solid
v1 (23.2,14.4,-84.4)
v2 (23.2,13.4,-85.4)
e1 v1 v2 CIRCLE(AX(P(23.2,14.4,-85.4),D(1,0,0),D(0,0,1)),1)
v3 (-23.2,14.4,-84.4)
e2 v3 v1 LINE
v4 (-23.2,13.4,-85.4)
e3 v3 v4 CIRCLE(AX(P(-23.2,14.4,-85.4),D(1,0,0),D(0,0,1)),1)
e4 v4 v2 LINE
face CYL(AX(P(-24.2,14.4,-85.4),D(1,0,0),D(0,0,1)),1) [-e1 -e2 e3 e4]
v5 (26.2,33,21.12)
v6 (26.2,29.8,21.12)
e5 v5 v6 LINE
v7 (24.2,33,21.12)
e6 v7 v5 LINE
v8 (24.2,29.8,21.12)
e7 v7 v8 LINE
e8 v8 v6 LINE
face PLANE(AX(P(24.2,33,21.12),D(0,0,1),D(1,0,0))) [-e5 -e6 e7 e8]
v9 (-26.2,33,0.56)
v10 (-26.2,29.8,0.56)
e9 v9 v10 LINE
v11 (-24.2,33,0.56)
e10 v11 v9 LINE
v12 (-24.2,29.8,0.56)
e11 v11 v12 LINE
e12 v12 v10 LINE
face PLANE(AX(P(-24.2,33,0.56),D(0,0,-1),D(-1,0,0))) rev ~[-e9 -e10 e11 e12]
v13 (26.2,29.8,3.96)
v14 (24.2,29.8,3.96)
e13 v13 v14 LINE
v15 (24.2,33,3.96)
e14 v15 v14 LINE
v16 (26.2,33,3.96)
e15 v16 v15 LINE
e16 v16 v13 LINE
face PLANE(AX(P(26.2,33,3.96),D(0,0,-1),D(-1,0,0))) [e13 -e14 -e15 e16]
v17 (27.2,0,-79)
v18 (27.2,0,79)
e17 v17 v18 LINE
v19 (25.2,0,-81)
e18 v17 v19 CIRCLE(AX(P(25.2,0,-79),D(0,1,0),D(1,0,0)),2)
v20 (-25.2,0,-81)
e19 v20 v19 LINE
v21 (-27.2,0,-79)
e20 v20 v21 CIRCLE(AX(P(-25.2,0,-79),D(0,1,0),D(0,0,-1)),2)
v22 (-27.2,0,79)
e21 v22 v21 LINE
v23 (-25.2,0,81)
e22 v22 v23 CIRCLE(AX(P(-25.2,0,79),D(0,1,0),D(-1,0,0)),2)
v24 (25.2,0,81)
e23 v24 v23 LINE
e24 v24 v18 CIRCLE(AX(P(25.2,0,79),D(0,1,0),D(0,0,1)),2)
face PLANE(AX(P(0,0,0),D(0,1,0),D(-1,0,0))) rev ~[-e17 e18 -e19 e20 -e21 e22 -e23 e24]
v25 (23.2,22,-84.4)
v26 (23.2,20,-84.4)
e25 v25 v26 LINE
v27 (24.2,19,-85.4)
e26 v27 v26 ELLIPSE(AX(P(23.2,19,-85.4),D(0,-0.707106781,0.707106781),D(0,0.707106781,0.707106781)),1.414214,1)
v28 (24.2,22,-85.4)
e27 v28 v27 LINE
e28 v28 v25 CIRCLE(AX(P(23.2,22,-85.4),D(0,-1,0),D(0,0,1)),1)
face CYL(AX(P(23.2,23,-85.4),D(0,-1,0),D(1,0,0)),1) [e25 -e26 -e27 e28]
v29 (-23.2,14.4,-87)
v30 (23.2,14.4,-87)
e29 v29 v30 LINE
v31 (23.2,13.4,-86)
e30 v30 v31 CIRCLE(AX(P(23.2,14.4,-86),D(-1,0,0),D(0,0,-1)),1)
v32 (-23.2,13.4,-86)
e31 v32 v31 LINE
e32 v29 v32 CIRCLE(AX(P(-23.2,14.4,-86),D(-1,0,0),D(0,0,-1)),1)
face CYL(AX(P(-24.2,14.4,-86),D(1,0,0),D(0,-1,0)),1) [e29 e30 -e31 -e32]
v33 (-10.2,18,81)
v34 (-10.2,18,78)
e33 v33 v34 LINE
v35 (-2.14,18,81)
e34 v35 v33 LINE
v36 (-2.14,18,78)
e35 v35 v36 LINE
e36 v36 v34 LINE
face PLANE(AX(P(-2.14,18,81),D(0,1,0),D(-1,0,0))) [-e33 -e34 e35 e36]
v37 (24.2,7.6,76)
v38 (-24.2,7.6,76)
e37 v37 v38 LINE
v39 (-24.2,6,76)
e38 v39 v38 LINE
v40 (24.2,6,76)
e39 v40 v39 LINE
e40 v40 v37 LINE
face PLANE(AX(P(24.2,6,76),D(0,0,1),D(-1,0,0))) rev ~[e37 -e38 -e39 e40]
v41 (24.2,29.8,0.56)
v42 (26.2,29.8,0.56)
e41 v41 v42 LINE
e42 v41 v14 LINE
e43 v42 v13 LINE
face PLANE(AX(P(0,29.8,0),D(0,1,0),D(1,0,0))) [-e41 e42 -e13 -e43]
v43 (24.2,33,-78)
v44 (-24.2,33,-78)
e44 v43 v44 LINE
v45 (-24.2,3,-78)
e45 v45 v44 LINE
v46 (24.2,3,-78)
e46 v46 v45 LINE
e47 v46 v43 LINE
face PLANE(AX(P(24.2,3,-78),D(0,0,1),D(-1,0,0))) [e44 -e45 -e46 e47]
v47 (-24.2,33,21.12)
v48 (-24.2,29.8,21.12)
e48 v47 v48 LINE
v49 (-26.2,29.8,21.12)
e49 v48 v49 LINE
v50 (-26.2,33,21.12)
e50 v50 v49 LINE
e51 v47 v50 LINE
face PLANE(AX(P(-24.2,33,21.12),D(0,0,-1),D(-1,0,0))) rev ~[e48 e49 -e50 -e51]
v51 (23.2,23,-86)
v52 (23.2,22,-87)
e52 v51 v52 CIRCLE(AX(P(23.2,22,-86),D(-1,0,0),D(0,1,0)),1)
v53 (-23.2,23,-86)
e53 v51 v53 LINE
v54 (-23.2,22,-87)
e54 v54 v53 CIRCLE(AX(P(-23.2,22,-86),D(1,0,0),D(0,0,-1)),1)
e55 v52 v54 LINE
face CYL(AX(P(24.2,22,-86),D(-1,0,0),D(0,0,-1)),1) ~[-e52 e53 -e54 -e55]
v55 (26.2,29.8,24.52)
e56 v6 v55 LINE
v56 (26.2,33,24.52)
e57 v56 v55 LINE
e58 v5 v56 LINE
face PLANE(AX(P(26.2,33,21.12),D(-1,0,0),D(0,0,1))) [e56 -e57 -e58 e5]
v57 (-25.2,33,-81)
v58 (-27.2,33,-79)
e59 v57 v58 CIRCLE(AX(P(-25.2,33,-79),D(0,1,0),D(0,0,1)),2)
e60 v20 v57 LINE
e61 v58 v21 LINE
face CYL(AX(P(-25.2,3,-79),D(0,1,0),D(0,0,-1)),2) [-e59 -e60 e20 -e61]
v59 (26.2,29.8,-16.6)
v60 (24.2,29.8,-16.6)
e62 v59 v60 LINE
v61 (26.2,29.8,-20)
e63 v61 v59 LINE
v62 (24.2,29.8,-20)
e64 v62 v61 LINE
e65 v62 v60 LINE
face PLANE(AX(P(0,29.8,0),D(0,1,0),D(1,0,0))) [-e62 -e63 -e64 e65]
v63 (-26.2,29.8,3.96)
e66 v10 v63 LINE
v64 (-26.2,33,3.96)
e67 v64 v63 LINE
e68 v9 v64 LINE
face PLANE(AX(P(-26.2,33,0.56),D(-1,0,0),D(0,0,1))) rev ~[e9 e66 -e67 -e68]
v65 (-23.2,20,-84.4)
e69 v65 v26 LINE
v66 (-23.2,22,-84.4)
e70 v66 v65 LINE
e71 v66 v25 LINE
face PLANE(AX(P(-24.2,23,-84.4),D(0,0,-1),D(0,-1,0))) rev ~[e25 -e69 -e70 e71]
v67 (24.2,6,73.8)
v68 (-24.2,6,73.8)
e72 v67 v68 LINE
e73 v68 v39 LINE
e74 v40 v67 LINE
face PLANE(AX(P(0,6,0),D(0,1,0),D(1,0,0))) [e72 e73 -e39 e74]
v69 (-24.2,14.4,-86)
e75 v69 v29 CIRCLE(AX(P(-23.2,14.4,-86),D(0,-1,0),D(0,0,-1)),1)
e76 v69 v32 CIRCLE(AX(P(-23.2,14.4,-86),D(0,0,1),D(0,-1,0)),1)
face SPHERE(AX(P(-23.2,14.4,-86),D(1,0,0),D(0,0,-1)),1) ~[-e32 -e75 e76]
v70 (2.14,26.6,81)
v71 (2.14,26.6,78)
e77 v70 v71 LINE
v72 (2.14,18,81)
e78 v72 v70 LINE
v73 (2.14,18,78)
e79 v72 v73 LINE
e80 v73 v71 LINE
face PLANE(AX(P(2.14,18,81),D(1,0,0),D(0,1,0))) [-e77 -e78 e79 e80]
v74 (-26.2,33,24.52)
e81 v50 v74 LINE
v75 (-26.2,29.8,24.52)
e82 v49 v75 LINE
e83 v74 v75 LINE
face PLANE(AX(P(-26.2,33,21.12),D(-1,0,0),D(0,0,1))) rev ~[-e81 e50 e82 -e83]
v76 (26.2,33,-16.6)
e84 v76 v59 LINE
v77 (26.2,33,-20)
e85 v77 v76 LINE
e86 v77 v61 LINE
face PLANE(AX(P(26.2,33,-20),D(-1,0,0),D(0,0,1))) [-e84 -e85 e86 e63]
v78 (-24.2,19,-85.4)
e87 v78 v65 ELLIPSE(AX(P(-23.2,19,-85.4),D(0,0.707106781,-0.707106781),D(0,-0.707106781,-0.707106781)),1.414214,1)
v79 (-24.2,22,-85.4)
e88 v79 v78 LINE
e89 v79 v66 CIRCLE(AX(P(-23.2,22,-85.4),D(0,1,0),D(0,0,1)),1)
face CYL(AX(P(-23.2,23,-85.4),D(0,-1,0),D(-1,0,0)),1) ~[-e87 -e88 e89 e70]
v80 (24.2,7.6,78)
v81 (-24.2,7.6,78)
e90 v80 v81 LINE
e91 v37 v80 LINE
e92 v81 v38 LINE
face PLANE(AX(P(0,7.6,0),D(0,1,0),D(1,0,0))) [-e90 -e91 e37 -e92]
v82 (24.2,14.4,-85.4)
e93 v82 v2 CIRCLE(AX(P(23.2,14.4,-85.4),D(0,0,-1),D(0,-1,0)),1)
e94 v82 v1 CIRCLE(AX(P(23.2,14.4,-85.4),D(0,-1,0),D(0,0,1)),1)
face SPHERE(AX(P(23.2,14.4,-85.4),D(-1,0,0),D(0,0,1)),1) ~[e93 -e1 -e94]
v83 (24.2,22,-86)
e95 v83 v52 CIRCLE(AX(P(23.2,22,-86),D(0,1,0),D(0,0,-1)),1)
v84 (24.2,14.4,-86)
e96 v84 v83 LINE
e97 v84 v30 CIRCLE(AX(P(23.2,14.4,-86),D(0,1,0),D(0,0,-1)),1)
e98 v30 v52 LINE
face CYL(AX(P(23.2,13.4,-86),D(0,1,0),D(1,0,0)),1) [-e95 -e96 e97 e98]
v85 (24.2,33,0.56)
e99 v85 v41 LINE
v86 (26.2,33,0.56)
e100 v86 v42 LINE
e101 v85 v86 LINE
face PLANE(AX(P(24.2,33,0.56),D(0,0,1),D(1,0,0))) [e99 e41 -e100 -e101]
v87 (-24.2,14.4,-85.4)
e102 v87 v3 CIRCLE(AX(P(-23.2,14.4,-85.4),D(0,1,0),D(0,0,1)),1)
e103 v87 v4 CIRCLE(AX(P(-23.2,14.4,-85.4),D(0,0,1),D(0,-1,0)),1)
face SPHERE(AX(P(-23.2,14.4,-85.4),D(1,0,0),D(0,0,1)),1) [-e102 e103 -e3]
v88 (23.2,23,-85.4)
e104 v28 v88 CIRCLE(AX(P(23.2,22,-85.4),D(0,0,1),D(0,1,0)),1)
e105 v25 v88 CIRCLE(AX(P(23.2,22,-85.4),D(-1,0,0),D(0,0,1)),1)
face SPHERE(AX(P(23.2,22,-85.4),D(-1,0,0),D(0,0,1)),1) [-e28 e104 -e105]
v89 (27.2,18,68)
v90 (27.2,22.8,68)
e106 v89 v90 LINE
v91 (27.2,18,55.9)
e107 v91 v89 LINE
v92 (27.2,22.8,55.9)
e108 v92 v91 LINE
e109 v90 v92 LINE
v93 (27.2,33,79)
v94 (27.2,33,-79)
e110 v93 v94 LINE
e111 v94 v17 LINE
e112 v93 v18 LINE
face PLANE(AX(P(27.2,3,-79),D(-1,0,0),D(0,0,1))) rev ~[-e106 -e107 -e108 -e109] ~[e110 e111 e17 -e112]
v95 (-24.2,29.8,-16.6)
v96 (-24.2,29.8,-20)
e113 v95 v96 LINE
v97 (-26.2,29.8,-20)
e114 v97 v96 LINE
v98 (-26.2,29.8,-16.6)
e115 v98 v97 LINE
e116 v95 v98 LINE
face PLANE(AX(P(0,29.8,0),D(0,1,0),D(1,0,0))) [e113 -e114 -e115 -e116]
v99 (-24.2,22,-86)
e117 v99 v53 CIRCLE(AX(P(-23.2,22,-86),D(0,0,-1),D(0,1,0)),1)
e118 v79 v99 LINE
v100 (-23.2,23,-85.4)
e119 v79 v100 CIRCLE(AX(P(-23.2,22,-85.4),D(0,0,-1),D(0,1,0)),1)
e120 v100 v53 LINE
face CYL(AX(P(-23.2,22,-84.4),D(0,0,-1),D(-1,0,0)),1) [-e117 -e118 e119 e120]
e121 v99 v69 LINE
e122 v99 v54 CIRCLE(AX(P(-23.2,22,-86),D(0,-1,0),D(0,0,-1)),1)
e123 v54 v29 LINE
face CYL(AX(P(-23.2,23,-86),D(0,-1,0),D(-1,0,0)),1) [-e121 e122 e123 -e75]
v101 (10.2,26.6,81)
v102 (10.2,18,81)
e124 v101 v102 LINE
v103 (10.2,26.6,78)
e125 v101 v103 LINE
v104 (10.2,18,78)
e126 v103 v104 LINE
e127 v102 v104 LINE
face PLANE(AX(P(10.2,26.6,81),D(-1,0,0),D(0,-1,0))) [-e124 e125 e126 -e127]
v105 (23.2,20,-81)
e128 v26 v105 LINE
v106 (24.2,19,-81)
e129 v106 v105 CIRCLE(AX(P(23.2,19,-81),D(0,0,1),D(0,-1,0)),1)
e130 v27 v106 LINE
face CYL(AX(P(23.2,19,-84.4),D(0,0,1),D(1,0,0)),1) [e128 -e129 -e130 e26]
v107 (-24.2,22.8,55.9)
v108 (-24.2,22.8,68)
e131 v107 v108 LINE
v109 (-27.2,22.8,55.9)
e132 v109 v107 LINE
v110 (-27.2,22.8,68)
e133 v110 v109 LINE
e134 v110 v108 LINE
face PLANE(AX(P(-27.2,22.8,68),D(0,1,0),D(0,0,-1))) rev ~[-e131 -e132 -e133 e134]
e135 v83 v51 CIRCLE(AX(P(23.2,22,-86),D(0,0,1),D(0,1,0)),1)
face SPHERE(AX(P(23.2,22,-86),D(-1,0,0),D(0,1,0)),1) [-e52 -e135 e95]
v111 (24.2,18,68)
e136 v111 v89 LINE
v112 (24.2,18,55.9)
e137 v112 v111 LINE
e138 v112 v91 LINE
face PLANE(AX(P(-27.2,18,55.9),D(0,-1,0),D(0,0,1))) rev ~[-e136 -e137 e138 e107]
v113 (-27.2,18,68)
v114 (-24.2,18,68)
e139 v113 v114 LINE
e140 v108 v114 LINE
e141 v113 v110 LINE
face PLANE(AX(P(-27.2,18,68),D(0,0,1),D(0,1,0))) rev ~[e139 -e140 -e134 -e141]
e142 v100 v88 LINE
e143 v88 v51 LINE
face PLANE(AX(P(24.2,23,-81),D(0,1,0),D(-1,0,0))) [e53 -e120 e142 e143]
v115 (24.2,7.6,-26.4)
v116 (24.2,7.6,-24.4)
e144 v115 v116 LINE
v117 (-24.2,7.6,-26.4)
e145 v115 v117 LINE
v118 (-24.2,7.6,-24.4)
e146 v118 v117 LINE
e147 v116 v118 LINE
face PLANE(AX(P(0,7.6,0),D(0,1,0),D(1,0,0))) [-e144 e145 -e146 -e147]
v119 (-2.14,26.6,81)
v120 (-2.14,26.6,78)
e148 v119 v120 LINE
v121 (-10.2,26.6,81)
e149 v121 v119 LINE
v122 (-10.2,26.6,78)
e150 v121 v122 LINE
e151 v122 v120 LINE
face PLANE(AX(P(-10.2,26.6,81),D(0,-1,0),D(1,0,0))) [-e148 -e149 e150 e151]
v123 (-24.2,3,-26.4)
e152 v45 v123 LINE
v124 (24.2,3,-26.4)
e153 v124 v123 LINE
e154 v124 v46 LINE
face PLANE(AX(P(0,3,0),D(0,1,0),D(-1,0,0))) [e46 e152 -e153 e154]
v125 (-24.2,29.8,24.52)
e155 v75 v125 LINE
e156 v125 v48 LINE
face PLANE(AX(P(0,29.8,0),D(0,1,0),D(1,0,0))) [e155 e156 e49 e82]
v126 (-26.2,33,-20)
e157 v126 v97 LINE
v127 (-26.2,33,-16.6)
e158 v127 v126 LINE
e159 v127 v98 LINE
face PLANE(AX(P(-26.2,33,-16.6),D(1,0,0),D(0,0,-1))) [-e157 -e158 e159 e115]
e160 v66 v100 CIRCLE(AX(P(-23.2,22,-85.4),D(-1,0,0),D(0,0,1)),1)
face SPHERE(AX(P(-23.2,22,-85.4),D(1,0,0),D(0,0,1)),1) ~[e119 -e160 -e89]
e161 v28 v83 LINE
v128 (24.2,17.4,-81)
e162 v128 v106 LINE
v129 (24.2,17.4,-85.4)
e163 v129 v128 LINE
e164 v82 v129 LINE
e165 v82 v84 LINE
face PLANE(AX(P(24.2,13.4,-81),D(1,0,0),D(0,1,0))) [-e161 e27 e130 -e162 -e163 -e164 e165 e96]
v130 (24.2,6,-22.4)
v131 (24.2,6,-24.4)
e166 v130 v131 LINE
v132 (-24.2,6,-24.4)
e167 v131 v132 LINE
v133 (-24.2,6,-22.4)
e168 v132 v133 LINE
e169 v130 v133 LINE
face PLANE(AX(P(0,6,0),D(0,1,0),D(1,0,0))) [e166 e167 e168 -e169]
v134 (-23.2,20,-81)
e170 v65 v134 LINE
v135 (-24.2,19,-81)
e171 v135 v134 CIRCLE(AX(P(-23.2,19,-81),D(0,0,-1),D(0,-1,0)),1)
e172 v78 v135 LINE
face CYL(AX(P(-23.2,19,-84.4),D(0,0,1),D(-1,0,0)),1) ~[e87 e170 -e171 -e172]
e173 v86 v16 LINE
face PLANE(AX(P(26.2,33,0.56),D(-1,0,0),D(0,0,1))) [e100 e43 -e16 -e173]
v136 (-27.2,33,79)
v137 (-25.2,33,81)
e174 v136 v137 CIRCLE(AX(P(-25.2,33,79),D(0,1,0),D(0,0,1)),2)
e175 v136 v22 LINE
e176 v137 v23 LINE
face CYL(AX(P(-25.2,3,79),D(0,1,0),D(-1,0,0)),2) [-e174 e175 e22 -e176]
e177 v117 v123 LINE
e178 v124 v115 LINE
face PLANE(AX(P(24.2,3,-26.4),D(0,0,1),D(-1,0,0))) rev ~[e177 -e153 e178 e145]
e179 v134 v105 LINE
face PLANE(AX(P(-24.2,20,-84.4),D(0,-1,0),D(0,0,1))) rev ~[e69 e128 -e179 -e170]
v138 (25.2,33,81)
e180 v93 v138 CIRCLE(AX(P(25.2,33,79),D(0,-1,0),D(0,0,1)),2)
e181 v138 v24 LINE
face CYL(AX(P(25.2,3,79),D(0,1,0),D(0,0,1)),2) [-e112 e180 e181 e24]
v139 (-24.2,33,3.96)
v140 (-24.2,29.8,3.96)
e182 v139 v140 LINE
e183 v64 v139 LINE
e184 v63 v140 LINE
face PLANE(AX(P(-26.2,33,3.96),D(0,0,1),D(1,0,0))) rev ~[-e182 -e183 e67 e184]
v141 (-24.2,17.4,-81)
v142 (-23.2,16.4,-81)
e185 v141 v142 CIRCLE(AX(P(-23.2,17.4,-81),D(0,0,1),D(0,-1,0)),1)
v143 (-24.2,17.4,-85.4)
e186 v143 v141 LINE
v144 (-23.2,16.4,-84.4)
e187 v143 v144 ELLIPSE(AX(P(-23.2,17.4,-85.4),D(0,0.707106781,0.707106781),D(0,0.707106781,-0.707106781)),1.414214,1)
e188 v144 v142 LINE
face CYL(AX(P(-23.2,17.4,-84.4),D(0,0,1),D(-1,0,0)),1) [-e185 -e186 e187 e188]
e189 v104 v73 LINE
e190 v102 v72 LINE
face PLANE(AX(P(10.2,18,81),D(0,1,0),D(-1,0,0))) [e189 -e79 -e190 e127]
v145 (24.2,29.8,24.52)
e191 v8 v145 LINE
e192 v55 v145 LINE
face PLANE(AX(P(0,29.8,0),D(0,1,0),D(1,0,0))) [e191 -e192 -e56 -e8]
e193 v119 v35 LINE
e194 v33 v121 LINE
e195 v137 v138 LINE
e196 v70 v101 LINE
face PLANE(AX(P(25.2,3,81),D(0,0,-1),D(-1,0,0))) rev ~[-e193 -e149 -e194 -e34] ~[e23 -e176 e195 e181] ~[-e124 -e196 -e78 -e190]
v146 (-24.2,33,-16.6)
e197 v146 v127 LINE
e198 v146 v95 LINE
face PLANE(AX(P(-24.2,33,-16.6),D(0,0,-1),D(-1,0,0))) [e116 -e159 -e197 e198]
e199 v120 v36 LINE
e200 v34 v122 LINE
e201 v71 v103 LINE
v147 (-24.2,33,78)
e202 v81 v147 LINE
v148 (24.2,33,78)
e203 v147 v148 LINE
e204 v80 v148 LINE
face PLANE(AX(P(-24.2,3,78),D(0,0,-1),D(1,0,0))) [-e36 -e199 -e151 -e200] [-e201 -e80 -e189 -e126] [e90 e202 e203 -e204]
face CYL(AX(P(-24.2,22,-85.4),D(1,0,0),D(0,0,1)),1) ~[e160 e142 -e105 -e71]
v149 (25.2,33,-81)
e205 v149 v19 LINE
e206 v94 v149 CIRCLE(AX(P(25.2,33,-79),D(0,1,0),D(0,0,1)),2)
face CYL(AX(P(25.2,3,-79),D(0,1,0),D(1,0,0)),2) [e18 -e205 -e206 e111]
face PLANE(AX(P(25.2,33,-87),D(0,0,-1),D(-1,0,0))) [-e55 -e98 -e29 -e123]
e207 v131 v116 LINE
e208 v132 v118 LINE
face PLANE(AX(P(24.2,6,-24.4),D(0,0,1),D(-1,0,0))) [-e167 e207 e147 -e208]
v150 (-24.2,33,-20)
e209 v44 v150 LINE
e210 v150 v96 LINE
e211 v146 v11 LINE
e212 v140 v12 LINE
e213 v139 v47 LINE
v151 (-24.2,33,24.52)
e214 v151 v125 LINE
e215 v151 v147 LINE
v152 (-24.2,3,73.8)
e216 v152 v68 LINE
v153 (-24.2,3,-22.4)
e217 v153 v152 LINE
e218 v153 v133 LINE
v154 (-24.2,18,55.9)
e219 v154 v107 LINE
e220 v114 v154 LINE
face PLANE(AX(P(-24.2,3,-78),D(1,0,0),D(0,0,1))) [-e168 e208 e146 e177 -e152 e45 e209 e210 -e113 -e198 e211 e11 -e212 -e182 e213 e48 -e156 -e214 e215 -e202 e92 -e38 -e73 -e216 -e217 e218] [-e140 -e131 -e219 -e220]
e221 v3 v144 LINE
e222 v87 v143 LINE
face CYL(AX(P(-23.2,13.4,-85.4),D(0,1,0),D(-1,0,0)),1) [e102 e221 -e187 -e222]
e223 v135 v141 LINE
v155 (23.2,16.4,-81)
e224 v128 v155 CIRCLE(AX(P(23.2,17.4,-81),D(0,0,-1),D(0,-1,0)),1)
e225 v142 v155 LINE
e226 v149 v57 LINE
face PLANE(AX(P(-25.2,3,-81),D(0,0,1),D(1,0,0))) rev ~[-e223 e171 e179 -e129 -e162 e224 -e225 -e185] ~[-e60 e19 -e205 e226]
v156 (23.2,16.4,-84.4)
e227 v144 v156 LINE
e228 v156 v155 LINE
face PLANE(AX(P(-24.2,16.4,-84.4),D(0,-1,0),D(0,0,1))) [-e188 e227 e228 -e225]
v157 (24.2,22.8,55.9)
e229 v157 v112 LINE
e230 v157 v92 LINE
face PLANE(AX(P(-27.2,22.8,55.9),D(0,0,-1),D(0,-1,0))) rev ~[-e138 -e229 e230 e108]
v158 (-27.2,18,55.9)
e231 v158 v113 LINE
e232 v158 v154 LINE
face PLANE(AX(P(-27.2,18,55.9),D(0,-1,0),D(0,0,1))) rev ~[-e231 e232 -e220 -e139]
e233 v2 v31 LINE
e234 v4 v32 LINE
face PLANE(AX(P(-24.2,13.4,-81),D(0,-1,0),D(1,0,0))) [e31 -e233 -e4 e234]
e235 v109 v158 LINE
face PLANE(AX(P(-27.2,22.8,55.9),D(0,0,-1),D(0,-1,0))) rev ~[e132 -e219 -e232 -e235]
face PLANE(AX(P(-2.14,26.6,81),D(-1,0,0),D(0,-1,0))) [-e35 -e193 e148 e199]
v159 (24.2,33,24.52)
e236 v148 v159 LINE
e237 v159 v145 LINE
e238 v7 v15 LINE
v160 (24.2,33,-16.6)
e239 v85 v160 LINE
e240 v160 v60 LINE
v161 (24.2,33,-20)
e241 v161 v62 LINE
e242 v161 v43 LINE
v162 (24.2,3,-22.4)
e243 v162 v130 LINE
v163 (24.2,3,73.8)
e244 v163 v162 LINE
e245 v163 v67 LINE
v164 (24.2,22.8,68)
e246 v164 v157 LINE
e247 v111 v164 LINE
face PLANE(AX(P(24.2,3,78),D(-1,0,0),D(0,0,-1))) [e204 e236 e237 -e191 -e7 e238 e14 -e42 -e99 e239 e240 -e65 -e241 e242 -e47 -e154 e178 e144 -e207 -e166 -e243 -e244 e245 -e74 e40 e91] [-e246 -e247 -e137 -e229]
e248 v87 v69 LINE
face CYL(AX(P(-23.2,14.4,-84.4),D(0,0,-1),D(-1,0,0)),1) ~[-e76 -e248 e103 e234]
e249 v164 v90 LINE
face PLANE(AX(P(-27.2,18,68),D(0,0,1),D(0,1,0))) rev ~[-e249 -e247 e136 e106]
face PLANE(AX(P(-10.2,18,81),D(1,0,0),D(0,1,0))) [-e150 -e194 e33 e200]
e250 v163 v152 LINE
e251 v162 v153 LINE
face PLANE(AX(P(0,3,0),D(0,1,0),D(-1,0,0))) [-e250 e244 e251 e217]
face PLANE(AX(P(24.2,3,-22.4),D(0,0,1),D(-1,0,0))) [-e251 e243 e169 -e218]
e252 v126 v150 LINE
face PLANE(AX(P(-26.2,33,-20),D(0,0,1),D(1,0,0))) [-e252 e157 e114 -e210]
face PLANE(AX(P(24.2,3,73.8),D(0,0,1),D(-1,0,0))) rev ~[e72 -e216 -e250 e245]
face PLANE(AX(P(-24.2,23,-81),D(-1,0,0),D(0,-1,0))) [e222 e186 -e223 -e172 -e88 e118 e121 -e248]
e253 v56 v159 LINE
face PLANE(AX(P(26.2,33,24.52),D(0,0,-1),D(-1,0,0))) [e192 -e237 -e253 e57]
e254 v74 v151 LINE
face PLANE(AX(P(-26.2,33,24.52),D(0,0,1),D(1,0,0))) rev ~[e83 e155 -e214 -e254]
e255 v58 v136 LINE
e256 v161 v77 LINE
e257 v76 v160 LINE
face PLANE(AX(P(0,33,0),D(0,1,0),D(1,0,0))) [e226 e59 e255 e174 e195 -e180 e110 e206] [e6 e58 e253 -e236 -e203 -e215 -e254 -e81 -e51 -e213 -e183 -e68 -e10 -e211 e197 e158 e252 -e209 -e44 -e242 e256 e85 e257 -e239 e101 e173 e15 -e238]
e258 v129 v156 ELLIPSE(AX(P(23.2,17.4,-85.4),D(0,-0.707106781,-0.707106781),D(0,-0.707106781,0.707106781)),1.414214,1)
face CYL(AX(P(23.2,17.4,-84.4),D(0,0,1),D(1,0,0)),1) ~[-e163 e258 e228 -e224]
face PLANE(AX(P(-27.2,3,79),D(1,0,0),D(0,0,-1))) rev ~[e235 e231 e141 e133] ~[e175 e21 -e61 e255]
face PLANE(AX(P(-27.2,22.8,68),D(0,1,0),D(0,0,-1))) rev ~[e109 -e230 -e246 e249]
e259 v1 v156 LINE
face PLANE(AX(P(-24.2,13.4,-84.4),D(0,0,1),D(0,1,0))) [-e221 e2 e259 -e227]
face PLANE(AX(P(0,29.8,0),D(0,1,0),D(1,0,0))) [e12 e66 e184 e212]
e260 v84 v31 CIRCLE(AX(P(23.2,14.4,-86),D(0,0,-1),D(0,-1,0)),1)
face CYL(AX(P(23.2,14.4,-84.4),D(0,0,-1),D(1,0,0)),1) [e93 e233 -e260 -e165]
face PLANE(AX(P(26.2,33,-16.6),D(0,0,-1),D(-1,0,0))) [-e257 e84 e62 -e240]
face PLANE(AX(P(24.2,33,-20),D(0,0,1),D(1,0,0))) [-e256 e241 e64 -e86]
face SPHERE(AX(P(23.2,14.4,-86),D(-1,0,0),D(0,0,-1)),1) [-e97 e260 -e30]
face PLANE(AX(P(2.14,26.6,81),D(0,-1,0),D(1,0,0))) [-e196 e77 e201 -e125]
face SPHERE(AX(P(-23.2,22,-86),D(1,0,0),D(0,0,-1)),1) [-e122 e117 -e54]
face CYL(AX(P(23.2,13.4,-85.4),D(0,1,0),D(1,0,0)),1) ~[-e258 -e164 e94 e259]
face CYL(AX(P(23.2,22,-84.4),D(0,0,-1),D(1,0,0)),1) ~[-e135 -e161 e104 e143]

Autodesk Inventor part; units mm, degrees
ref_plane "YZ Plane" through (0, 0, 0) normal (1, 0, 0) x (0, 1, 0)
ref_plane "XZ Plane" through (0, 0, 0) normal (0, 1, 0) x (-1, 0, 0)
ref_plane "XY Plane" through (0, 0, 0) normal (0, 0, 1) x (1, 0, 0)
sketch "Sketch2" plane through (0, 0, 0) normal (0, 1, 0) x (-1, 0, 0)
  line L0 (-30.2, -84) -> (30.2, -84)
  line L1 (30.2, -84) -> (30.2, 84)
  line L2 (30.2, 84) -> (-30.2, 84)
  line L3 (-30.2, 84) -> (-30.2, -84)
  line L4 (-30.2, -84) -> (30.2, 84) construction
  line L5 (30.2, -84) -> (-30.2, 84) construction
  point P0 (0, 0)
  dimension "d0" = 60.4
  dimension "d1" = 168
extrude "Extrusion1" add sketch "Sketch2" along normal blind 3
sketch "Sketch3" plane through (0, 3, 0) normal (0, 1, 0) x (1, 0, 0)
  line L0 (27.2, 81) -> (-27.2, 81)
  line L1 (-27.2, 81) -> (-27.2, -81)
  line L2 (-27.2, -81) -> (27.2, -81)
  line L3 (27.2, -81) -> (27.2, 81)
  line L4 (27.2, 81) -> (-27.2, -81) construction
  line L5 (-27.2, 81) -> (27.2, -81) construction
  line L6 (-30.2, 84) -> (-30.2, -84) projected
  line L7 (-30.2, -84) -> (30.2, -84) projected
  line L8 (24.2, 78) -> (-24.2, 78)
  line L9 (-24.2, 78) -> (-24.2, -78)
  line L10 (-24.2, -78) -> (24.2, -78)
  line L11 (24.2, -78) -> (24.2, 78)
  line L12 (24.2, 78) -> (-24.2, -78) construction
  line L13 (-24.2, 78) -> (24.2, -78) construction
  point P0 (0, 0)
  dimension "d4" = 3
  dimension "d5" = 3
  dimension "d6" = 3
  dimension "d7" = 3
extrude "Extrusion2" add sketch "Sketch3" along normal blind 30
fillet "Fillet1" radius 2 8 edges at (27.2, 18, 81) (-27.2, 18, 81) (-30.2, 1.5, 84) (30.2, 1.5, 84) (27.2, 18, -81) (-27.2, 18, -81) (30.2, 1.5, -84) (-30.2, 1.5, -84)
sketch "Sketch10" plane through (0, 3, 0) normal (0, 1, 0) x (1, 0, 0)
  line L0 (24.2, 78) -> (-24.2, 78) projected
  line L1 (-24.2, 78) -> (-24.2, -78) projected
  line L2 (-24.2, -78) -> (24.2, -78) projected
  line L3 (24.2, -78) -> (24.2, 78) projected
  line L4 (-24.2, -78) -> (24.2, -78)
  line L5 (24.2, -78) -> (24.2, -73.8)
  line L6 (24.2, -73.8) -> (-24.2, -73.8)
  line L7 (-24.2, -73.8) -> (-24.2, -78)
  line L8 (-24.2, -73.8) -> (24.2, -73.8)
  line L9 (24.2, -73.8) -> (24.2, 22.4)
  line L10 (24.2, 22.4) -> (-24.2, 22.4)
  line L11 (-24.2, 22.4) -> (-24.2, -73.8)
  line L12 (-24.2, 22.4) -> (24.2, 22.4)
  line L13 (24.2, 22.4) -> (24.2, 26.4)
  line L14 (24.2, 26.4) -> (-24.2, 26.4)
  line L15 (-24.2, 26.4) -> (-24.2, 22.4)
  point P0 (0, 0)
  point P1 (-24.2, 26.4)
  point P2 (-24.2, 22.4)
  dimension "d90" = 4.2
  dimension "d91" = 96.2
  dimension "d92" = 4
extrude "Extrusion9" add sketch "Sketch10" along normal blind 3 contours L3 L10 L1 L14 | L3 L2 L1 L6
sketch "Sketch11" plane through (0, 6, 0) normal (0, 1, 0) x (1, 0, 0)
  line L0 (-24.2, 22.4) -> (-24.2, 26.4) projected
  line L1 (-24.2, 22.4) -> (24.2, 22.4) projected
  line L2 (24.2, 26.4) -> (24.2, 22.4) projected
  line L3 (24.2, 26.4) -> (-24.2, 26.4) projected
  line L4 (-24.2, -78) -> (-24.2, -73.8) projected
  line L5 (24.2, -78) -> (-24.2, -78) projected
  line L6 (24.2, -73.8) -> (24.2, -78) projected
  line L7 (24.2, -73.8) -> (-24.2, -73.8) projected
  line L8 (24.2, 26.4) -> (-24.2, 26.4) projected
  line L9 (-24.2, 26.4) -> (24.2, 26.4)
  line L10 (24.2, 26.4) -> (24.2, 24.4)
  line L11 (24.2, 24.4) -> (-24.2, 24.4)
  line L12 (-24.2, 24.4) -> (-24.2, 26.4)
  line L13 (24.2, -73.8) -> (24.2, -78) projected
  line L14 (-24.2, -78) -> (24.2, -78)
  line L15 (24.2, -78) -> (24.2, -76)
  line L16 (24.2, -76) -> (-24.2, -76)
  line L17 (-24.2, -76) -> (-24.2, -78)
  point P0 (0, 0)
  point P1 (24.2, -72.6)
  point P2 (-24.2, -76)
  dimension "d95" = 2
  dimension "d120" = 2
extrude "Extrusion10" add sketch "Sketch11" along normal blind 1.6 contours L0 L3 L2 L11 | L4 L16 L6 L5
sketch "Sketch12" plane through (-25.2, 3, 81) normal (0, 0, 1) x (1, 0, 0)
  line L0 (-2, 30) -> (-2, 0) projected
  line L1 (0, 30) -> (50.4, 30) projected
  line L2 (-2, 30) -> (0, 30) projected
  line L3 (50.4, 30) -> (52.4, 30) projected
  line L4 (52.4, 0) -> (52.4, 30) projected
  line L5 (50.4, 0) -> (0, 0) projected
  line L6 (0, 0) -> (-2, 0) projected
  line L7 (52.4, 0) -> (50.4, 0) projected
  line L8 (15, 23.6) -> (23.06, 23.6)
  line L9 (23.06, 23.6) -> (23.06, 15)
  line L10 (23.06, 15) -> (15, 15)
  line L11 (15, 15) -> (15, 23.6)
  line L12 (27.34, 23.6) -> (35.4, 23.6)
  line L13 (35.4, 23.6) -> (35.4, 15)
  line L14 (35.4, 15) -> (27.34, 15)
  line L15 (27.34, 15) -> (27.34, 23.6)
  point P0 (25.2, -3)
  dimension "d116" = 8.06
  dimension "d117" = 8.6
  dimension "d118" = 15
  dimension "d119" = 17
  dimension "d121" = 8.06
  dimension "d122" = 8.6
  dimension "d123" = 15
  dimension "d124" = 17
extrude "Extrusion11" cut sketch "Sketch12" against normal blind 3 contours L8 L9 L10 L11 | L12 L13 L14 L15
sketch "Sketch13" plane through (0, 3, 0) normal (0, 1, 0) x (1, 0, 0)
  arc A0 (-28.2, 84) -> (-30.2, 82) centre (-28.2, 82) ccw projected
  line L0 (-30.2, 82) -> (-30.2, -82) projected
  arc A1 (-30.2, -82) -> (-28.2, -84) centre (-28.2, -82) ccw projected
  line L1 (-28.2, -84) -> (28.2, -84) projected
  arc A2 (28.2, -84) -> (30.2, -82) centre (28.2, -82) ccw projected
  line L2 (30.2, -82) -> (30.2, 82) projected
  arc A3 (30.2, 82) -> (28.2, 84) centre (28.2, 82) ccw projected
  line L3 (28.2, 84) -> (-28.2, 84) projected
  line L4 (-25.2, 81) -> (25.2, 81) projected
  arc A4 (27.2, 79) -> (25.2, 81) centre (25.2, 79) ccw projected
  line L5 (27.2, 79) -> (27.2, -79) projected
  arc A5 (25.2, -81) -> (27.2, -79) centre (25.2, -79) ccw projected
  line L6 (25.2, -81) -> (-25.2, -81) projected
  arc A6 (-27.2, -79) -> (-25.2, -81) centre (-25.2, -79) ccw projected
  line L7 (-27.2, -79) -> (-27.2, 79) projected
  arc A7 (-25.2, 81) -> (-27.2, 79) centre (-25.2, 79) ccw projected
  point P0 (0, 0)
extrude "Extrusion12" cut sketch "Sketch13" against normal blind 3
sketch "Sketch14" plane through (25.2, 33, -81) normal (0, 0, -1) x (-1, 0, 0)
  line L0 (1, -10) -> (49.4, -10)
  line L1 (49.4, -10) -> (49.4, -19.6)
  line L2 (49.4, -19.6) -> (1, -19.6)
  line L3 (1, -19.6) -> (1, -10)
  line L4 (52.4, -33) -> (52.4, 0) projected
  line L5 (-2, 0) -> (-2, -33) projected
  line L6 (50.4, 0) -> (50.4, -33) projected
  line L7 (50.4, -33) -> (0, -33) projected
  point P0 (25.2, -33)
  point P1 (50.4, -16.5)
  point P2 (49.4, -14.8)
  dimension "d127" = 9.6
  dimension "d128" = 3
  dimension "d129" = 3
  dimension "d140" = 23
extrude "Extrusion13" add sketch "Sketch14" along normal blind 6
sketch "Sketch15" plane through (-24.2, 13.4, -81) normal (-1, 0, 0) x (0, 0, 1)
  line L0 (0, 9.6) -> (-6, 9.6) projected
  line L1 (0, 9.6) -> (-3.4, 9.6)
  line L2 (-3.4, 9.6) -> (-3.4, 6.6)
  line L3 (-3.4, 6.6) -> (0, 6.6)
  line L4 (0, 6.6) -> (0, 9.6)
  line L5 (0, 9.6) -> (0, 0) projected
  line L6 (0, 9.6) -> (-6, 9.6) projected
  line L7 (-6, 0) -> (-6, 9.6) projected
  line L8 (0, 0) -> (-6, 0) projected
  line L9 (0, 0) -> (-3.4, 0)
  line L10 (-3.4, 0) -> (-3.4, 3)
  line L11 (-3.4, 3) -> (0, 3)
  line L12 (0, 3) -> (0, 0)
  point P0 (81, -13.4)
  point P1 (-3.4, 0)
  dimension "d133" = 3.4
  dimension "d134" = 3
  dimension "d135" = 3.4
  dimension "d136" = 3
extrude "Extrusion14" cut sketch "Sketch15" against normal up to surface (48.4 mm away) contours L4 L3 L2 L0 | L5 L8 L10 L11
fillet "Fillet8" radius 1 18 edges at (0, 23, -87) (0, 23, -84.4) (0, 13.4, -87) (0, 13.4, -84.4) (-24.2, 14.9, -84.4) (-24.2, 18.2, -87) (-24.2, 21.5, -84.4) (-24.2, 23, -85.7) (-24.2, 13.4, -85.7) (-24.2, 16.4, -82.7) (-24.2, 20, -82.7) (24.2, 20, -82.7) (24.2, 16.4, -82.7) (24.2, 14.9, -84.4) (24.2, 21.5, -84.4) (24.2, 23, -85.7) (24.2, 18.2, -87) (24.2, 13.4, -85.7)
sketch "Sketch16" plane through (-27.2, 0, -79) normal (-1, 0, 0) x (0, 0, 1)
  line L0 (147, 22.8) -> (134.9, 22.8)
  line L1 (134.9, 22.8) -> (134.9, 18)
  line L2 (134.9, 18) -> (147, 18)
  line L3 (147, 18) -> (147, 22.8)
  line L4 (160, 3) -> (160, 33) projected
  line L5 (152, 0) -> (0, 0) projected
  point P0 (79, 0)
  point P1 (154, 0)
  dimension "d141" = 12.1
  dimension "d142" = 4.8
  dimension "d143" = 13
  dimension "d144" = 18
extrude "Extrusion15" cut sketch "Sketch16" against normal through all
sketch "Sketch17" plane through (0, 33, 0) normal (0, 1, 0) x (1, 0, 0)
  arc A0 (-25.2, 81) -> (-27.2, 79) centre (-25.2, 79) ccw projected
  line L0 (-27.2, 79) -> (-27.2, -79) projected
  arc A1 (-27.2, -79) -> (-25.2, -81) centre (-25.2, -79) ccw projected
  line L1 (-25.2, -81) -> (25.2, -81) projected
  arc A2 (25.2, -81) -> (27.2, -79) centre (25.2, -79) ccw projected
  line L2 (27.2, -79) -> (27.2, 79) projected
  arc A3 (27.2, 79) -> (25.2, 81) centre (25.2, 79) ccw projected
  line L3 (25.2, 81) -> (-25.2, 81) projected
  line L4 (24.2, 78) -> (24.2, -78) projected
  line L5 (24.2, -78) -> (-24.2, -78) projected
  line L6 (-24.2, -78) -> (-24.2, 78) projected
  line L7 (-24.2, 78) -> (24.2, 78) projected
  line L8 (-26.2, 20) -> (-24.2, 20)
  line L9 (-24.2, 20) -> (-24.2, 16.6)
  line L10 (-24.2, 16.6) -> (-26.2, 16.6)
  line L11 (-26.2, 16.6) -> (-26.2, 20)
  line L12 (-24.2, -0.56) -> (-26.2, -0.56)
  line L13 (-26.2, -0.56) -> (-26.2, -3.96)
  line L14 (-26.2, -3.96) -> (-24.2, -3.96)
  line L15 (-24.2, -3.96) -> (-24.2, -0.56)
  line L16 (-24.2, 22.4) -> (-24.2, -73.8) projected
  line L17 (-24.2, -21.12) -> (-26.2, -21.12)
  line L18 (-26.2, -21.12) -> (-26.2, -24.52)
  line L19 (-26.2, -24.52) -> (-24.2, -24.52)
  line L20 (-24.2, -24.52) -> (-24.2, -21.12)
  line L21 (24.2, 20) -> (26.2, 20)
  line L22 (26.2, 20) -> (26.2, 16.6)
  line L23 (26.2, 16.6) -> (24.2, 16.6)
  line L24 (24.2, 16.6) -> (24.2, 20)
  line L25 (24.2, -0.56) -> (26.2, -0.56)
  line L26 (26.2, -0.56) -> (26.2, -3.96)
  line L27 (26.2, -3.96) -> (24.2, -3.96)
  line L28 (24.2, -3.96) -> (24.2, -0.56)
  line L29 (24.2, -21.12) -> (26.2, -21.12)
  line L30 (26.2, -21.12) -> (26.2, -24.52)
  line L31 (26.2, -24.52) -> (24.2, -24.52)
  line L32 (24.2, -24.52) -> (24.2, -21.12)
  point P0 (0, 0)
  point P1 (-24.2, 16.6)
  point P2 (24.2, 16.6)
  point P3 (24.2, -3.96)
  point P4 (24.2, -24.52)
  point P5 (-24.2, -24.52)
  point P6 (-24.2, -21.12)
  point P7 (-24.2, -3.96)
  dimension "d147" = 2
  dimension "d148" = 3.4
  dimension "d149" = 61
  dimension "d150" = 0
  dimension "d153" = 2
  dimension "d154" = 3.4
  dimension "d155" = 20.56
  dimension "d156" = 2
  dimension "d157" = 3.4
  dimension "d158" = 20.56
  dimension "d159" = 2
  dimension "d160" = 3.4
  dimension "d161" = 2
  dimension "d162" = 3.4
  dimension "d163" = 2
  dimension "d164" = 3.4
  dimension "d165" = 20.56
  dimension "d166" = 20.56
  dimension "d167" = 61
extrude "Extrusion16" cut sketch "Sketch17" against normal blind 3.2 contours L21 L22 L23 L4 | L25 L26 L27 L4 | L6 L10 L11 L8 | L29 L30 L31 L4 | L6 L14 L13 L12 | L6 L19 L18 L17
equation "\"d167\" = d149"
properties part number "module_switch" material "PC/ABS Plastic"
